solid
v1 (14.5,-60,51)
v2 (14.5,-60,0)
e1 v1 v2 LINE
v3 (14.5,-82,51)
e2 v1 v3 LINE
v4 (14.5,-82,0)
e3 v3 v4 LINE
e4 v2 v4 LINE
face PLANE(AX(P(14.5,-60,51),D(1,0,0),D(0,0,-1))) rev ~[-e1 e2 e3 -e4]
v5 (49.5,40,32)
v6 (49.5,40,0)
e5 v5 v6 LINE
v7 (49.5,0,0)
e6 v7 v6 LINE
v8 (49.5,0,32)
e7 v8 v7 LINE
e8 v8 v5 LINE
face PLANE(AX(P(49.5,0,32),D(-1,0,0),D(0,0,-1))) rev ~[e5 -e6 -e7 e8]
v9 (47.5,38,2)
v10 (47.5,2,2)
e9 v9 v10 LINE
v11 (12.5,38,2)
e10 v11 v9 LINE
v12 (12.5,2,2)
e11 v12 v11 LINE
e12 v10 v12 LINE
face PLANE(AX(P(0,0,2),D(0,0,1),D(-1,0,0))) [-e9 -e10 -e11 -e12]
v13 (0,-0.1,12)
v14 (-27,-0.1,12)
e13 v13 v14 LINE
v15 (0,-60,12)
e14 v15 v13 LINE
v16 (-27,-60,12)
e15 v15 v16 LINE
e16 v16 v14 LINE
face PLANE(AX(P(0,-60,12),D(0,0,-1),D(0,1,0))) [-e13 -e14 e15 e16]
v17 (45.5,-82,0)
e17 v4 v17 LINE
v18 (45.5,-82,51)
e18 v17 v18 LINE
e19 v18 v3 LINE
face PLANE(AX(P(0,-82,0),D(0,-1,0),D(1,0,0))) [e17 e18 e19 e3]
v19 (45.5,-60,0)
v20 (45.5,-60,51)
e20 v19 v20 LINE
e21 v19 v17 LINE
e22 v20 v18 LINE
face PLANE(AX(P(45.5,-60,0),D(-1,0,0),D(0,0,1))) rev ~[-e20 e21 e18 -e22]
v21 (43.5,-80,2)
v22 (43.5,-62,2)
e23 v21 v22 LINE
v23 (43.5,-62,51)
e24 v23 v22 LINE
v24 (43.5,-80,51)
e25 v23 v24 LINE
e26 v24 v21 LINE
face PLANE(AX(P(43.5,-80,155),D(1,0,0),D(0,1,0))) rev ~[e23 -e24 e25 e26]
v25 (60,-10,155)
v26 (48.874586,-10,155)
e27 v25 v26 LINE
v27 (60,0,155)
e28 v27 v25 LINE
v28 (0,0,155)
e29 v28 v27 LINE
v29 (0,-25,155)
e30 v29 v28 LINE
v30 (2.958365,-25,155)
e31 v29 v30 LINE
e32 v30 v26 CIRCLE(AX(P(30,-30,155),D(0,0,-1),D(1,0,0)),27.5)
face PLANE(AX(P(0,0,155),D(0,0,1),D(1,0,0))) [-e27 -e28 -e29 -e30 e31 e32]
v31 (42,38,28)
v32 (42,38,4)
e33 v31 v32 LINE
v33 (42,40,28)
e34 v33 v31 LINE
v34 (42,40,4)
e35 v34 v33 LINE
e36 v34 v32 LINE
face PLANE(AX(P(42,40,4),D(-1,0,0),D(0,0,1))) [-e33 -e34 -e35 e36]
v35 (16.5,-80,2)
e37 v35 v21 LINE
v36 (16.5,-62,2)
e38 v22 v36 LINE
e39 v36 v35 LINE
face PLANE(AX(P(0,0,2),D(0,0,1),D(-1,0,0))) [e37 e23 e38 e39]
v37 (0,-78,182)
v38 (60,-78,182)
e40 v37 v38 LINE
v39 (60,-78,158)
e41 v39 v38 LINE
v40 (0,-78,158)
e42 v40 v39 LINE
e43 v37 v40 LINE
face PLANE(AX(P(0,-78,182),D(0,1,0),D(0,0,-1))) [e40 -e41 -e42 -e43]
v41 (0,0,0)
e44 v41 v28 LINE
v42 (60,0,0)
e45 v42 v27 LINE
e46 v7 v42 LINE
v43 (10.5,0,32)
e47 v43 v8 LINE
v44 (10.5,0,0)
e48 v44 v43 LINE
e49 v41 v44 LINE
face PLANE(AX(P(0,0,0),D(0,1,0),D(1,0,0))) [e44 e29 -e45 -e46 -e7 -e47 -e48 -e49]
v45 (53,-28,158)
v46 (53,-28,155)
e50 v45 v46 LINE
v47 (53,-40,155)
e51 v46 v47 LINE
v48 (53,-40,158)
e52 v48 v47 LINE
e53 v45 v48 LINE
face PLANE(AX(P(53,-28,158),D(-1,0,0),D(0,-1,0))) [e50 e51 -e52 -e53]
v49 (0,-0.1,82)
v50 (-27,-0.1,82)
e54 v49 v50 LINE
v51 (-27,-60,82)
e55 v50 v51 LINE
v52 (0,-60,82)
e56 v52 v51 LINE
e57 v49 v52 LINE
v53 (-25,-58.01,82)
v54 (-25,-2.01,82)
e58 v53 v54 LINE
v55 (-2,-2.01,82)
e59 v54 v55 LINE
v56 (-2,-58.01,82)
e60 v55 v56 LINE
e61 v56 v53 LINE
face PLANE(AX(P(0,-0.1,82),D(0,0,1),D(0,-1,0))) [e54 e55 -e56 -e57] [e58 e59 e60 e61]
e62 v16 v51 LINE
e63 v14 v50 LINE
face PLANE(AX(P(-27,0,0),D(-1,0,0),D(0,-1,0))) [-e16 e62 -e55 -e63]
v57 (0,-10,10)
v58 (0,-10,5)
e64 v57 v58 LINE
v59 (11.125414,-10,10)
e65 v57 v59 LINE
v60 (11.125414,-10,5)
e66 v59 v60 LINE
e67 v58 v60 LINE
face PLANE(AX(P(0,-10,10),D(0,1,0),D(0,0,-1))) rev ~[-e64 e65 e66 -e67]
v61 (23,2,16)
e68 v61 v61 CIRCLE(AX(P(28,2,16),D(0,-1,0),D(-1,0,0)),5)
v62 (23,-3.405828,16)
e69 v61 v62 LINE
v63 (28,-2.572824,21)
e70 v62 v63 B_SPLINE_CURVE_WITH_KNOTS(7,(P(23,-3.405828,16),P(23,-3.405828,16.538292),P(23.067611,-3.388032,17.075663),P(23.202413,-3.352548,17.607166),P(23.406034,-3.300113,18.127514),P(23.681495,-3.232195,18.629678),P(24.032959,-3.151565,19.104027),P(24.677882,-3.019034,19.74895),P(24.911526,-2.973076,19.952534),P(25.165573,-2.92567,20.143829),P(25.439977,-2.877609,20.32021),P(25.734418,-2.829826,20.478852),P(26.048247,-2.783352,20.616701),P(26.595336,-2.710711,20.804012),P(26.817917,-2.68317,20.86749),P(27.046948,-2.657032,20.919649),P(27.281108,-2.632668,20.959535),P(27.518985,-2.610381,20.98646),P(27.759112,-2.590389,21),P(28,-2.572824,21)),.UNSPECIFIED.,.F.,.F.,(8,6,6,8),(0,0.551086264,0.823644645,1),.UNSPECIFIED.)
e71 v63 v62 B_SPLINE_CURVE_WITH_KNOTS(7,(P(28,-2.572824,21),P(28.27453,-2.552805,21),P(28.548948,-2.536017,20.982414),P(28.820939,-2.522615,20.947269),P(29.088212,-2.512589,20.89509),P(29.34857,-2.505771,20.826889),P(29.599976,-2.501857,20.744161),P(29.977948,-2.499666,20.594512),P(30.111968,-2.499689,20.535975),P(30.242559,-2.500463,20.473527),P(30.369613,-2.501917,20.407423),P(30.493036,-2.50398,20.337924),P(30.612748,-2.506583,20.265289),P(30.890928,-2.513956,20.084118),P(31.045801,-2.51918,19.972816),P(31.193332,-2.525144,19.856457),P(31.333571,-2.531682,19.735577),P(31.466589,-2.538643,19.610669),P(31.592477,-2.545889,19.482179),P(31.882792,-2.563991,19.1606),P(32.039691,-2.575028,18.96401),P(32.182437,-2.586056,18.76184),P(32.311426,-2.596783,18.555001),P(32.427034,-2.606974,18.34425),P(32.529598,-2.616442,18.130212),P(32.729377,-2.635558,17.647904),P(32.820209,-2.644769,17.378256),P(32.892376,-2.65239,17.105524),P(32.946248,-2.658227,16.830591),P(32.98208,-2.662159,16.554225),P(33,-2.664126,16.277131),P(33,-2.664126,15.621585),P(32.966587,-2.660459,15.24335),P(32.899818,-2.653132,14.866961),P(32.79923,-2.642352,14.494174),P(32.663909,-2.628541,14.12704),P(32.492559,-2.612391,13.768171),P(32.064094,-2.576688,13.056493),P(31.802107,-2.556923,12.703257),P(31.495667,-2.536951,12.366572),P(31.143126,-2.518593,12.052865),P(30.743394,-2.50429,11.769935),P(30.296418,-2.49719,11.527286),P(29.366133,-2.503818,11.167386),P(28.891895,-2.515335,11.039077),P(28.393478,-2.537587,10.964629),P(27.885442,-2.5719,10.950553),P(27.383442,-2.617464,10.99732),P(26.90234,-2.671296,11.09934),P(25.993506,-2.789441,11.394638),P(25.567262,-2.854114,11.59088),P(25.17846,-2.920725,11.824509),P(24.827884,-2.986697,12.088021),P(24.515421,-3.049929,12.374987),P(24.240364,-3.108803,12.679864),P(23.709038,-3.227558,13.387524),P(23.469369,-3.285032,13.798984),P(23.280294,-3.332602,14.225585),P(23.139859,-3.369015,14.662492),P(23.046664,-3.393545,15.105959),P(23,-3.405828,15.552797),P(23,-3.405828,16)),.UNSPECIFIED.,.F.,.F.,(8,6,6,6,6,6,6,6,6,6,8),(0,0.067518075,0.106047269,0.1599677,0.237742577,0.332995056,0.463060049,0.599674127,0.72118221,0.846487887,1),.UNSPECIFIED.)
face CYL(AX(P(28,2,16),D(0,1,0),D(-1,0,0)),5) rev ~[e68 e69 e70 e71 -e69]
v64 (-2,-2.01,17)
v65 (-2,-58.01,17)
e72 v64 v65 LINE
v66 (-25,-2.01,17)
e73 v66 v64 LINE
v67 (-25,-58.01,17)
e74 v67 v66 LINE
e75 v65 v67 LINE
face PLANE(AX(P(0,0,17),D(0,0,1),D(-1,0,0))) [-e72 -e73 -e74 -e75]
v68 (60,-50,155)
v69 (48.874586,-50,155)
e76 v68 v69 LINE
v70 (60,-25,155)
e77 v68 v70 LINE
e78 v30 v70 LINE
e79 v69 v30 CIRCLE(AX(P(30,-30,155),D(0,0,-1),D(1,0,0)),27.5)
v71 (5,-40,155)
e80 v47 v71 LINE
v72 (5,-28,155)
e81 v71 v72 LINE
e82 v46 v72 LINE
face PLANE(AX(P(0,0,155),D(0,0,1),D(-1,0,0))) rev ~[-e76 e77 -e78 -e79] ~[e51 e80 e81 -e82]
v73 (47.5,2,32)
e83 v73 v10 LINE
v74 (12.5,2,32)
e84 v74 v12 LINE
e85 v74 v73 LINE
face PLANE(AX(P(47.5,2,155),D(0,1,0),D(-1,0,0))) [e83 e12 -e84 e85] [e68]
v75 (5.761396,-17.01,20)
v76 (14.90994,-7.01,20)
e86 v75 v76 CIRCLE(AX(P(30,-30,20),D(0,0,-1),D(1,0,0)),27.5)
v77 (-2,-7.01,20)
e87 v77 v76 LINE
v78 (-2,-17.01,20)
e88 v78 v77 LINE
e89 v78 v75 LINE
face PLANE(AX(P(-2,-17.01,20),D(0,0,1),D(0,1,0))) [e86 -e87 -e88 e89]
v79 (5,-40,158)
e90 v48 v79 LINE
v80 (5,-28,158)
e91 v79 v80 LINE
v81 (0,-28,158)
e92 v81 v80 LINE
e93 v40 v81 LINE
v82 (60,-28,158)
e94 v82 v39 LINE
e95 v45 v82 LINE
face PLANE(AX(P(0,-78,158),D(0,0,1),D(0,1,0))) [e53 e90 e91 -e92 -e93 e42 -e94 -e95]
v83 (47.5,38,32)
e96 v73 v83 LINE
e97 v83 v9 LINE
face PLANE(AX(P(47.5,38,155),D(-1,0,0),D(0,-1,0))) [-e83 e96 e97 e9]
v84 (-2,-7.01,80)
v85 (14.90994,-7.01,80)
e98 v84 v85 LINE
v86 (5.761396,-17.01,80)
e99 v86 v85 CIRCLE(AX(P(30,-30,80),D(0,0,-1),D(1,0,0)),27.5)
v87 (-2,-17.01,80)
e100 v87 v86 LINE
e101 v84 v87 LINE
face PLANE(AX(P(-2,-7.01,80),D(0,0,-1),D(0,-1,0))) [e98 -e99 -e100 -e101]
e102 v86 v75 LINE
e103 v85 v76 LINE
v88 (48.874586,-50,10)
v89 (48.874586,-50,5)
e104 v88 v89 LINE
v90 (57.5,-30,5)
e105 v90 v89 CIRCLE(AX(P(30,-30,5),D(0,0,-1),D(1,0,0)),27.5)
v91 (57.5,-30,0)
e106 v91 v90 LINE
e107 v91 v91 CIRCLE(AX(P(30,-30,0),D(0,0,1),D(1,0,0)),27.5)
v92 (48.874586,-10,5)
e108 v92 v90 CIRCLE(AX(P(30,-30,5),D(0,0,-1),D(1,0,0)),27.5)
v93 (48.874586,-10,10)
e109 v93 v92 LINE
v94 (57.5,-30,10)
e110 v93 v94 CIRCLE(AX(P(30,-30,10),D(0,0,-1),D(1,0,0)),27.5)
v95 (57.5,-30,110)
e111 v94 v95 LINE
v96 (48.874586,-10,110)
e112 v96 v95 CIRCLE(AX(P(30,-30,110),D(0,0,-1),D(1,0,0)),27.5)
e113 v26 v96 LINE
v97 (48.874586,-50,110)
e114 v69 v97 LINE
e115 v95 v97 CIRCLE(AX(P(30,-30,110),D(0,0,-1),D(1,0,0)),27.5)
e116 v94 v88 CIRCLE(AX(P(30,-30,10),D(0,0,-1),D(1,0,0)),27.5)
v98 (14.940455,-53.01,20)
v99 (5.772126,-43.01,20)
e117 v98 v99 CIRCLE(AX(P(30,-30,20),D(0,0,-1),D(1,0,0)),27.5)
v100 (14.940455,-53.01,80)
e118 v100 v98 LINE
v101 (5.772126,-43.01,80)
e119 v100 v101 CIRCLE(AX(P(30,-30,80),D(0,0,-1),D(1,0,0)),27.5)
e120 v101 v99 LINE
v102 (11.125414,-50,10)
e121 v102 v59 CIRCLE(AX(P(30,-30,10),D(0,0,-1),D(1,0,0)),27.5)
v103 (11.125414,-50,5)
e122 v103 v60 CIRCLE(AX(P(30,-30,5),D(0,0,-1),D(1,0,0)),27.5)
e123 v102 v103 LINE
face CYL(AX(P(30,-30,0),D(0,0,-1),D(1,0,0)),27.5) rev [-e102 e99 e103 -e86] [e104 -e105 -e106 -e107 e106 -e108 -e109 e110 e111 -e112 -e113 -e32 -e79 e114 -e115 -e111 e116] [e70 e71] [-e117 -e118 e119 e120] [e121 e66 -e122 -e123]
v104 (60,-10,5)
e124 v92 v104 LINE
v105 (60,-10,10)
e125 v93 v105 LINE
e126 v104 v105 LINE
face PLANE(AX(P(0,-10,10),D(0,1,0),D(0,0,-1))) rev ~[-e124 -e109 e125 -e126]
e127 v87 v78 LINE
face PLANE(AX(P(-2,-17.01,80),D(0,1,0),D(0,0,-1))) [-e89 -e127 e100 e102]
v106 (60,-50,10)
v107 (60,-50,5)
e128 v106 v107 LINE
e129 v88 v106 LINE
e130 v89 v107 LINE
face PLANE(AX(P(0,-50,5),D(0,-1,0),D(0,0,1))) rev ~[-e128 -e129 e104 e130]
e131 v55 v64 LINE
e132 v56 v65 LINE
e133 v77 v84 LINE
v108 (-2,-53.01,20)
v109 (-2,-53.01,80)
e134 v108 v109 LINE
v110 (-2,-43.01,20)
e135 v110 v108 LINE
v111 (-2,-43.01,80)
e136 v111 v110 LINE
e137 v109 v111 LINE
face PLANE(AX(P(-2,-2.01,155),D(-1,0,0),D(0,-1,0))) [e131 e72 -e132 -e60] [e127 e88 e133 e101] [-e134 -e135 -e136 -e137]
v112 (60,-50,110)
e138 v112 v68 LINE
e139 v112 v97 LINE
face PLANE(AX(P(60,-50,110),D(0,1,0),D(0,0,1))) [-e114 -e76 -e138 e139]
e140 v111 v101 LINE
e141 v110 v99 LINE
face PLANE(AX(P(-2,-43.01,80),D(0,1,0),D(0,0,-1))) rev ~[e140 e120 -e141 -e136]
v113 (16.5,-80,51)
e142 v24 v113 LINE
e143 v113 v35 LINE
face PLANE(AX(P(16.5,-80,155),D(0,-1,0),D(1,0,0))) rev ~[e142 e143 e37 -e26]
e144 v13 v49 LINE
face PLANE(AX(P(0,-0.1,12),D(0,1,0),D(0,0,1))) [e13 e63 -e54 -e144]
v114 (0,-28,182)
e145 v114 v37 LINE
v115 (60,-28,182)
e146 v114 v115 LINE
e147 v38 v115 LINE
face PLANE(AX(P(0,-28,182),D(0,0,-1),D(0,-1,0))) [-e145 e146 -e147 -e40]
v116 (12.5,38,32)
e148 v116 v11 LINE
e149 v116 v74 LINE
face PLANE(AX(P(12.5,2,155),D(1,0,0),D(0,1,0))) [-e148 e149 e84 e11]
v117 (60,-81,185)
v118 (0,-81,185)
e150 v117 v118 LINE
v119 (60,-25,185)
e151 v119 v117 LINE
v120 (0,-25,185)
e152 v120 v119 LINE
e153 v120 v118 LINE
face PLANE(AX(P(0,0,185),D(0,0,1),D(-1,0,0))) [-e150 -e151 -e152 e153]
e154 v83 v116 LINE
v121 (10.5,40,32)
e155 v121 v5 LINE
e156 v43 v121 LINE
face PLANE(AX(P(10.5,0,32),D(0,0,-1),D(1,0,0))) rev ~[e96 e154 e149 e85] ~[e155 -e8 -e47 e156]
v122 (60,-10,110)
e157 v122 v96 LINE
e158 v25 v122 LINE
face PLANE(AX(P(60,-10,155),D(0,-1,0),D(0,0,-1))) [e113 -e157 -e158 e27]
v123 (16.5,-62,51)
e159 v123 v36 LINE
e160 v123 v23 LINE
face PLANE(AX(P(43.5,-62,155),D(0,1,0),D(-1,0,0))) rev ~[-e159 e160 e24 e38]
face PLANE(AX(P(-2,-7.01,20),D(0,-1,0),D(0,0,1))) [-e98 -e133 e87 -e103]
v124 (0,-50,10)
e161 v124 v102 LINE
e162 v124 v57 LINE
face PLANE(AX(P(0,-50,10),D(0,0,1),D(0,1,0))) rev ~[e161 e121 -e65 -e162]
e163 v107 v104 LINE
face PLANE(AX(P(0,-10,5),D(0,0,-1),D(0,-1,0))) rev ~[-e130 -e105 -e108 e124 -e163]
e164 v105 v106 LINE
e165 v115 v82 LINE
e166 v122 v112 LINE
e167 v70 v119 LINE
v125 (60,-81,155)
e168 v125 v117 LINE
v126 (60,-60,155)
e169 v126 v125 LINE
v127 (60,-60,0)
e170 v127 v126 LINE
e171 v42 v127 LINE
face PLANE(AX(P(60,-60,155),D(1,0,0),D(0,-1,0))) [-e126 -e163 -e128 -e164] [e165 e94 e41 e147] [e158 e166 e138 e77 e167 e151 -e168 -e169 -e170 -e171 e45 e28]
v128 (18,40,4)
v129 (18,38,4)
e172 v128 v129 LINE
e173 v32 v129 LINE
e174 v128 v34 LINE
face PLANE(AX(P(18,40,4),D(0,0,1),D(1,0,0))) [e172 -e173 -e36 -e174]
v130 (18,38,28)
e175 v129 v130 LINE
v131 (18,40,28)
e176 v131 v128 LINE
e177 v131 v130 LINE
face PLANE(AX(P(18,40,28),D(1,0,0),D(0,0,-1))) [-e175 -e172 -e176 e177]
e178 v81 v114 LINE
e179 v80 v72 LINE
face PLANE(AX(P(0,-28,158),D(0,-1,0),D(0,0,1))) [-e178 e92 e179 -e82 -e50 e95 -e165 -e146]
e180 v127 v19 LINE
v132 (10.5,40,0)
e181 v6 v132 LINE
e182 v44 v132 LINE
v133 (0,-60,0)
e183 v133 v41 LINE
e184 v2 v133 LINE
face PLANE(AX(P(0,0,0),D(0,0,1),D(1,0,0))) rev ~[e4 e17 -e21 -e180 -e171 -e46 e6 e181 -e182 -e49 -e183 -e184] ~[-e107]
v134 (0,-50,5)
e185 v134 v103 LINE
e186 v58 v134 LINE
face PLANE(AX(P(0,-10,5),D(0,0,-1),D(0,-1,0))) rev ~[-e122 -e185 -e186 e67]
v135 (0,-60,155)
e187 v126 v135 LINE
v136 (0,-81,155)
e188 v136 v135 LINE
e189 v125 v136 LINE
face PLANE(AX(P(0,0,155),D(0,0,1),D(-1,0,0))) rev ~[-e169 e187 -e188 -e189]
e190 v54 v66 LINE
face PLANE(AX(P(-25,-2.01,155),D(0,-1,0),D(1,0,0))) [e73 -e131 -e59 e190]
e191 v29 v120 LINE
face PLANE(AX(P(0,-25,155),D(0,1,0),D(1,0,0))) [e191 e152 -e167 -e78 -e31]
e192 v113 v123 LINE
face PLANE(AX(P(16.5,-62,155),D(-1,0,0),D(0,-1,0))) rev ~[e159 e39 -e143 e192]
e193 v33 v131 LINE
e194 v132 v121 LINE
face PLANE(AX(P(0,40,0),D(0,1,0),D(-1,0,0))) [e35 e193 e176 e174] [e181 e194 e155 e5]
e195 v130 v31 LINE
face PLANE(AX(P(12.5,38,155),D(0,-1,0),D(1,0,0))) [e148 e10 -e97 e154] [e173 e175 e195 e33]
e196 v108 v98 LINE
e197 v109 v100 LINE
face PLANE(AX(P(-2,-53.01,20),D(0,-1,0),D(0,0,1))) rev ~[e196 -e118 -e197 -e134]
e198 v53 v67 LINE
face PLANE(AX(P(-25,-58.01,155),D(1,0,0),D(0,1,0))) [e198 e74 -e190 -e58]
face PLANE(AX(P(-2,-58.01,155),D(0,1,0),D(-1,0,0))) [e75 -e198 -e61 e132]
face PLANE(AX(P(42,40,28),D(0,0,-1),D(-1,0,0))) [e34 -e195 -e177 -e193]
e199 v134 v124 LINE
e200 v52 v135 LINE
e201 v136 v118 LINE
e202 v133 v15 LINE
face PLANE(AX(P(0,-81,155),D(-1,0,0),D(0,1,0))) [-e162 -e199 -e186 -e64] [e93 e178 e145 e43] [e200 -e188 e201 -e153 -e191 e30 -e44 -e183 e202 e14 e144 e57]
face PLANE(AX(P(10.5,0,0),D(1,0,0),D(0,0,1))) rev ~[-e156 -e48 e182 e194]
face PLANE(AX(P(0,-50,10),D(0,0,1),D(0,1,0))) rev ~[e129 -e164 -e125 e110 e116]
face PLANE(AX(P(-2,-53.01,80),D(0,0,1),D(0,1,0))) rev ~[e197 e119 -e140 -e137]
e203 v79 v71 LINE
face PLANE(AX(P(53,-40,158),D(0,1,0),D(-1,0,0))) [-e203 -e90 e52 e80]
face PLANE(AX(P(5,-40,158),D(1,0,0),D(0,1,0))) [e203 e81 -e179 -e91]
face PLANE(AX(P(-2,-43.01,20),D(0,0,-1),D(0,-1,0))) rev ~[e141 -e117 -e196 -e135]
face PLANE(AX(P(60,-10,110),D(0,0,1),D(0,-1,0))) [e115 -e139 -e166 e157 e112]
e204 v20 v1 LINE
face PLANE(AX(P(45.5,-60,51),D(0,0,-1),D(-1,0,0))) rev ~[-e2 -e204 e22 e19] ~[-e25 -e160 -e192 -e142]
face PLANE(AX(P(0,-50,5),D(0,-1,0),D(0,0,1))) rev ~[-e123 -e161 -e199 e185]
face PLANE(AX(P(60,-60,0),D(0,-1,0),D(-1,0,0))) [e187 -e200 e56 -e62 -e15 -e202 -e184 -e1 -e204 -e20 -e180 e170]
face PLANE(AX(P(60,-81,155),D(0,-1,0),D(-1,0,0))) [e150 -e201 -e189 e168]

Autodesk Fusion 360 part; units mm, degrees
sketch "Sketch1" plane through (0, 0, 0) normal (0, 0, 1) x (1, 0, 0)
  line L0 (0, 0) -> (60, 0)
  line L1 (60, 0) -> (60, -60)
  line L2 (60, -60) -> (0, -60)
  line L3 (0, -60) -> (0, 0)
  dimension "d1" = 60
  dimension "d2" = 60
extrude "Extrude1" add sketch "Sketch1" along normal blind 155
sketch "Sketch2" plane through (0, 0, 0) normal (0, 0, 1) x (1, 0, 0)
  line L0 (0, 0) -> (30, 0)
  line L1 (30, 0) -> (30, -30)
  circle A0 centre (30, -30) radius 27.5
  dimension "d5" = 30
  dimension "d6" = 30
  dimension "d7" = 55
extrude "Extrude2" cut sketch "Sketch2" along normal through all
sketch "Sketch3" plane through (0, 0, 0) normal (1, 0, 0) x (0, 1, 0)
  line L0 (0, 0) -> (0, 5)
  line L1 (0, 5) -> (-10, 5)
  line L2 (-10, 5) -> (-50, 5)
  line L3 (-50, 5) -> (-50, 10)
  line L4 (-50, 10) -> (-10, 10)
  line L5 (-10, 10) -> (-10, 5)
  dimension "d9" = 10
  dimension "d10" = 5
  dimension "d11" = 40
  dimension "d12" = 5
extrude "Extrude3" cut sketch "Sketch3" along normal through all
sketch "Sketch4" plane through (0, 0, 0) normal (-1, 0, 0) x (0, -1, 0)
  line L0 (50, 10) -> (50, 5)
  line L1 (50, 5) -> (10, 5)
  line L2 (10, 5) -> (10, 10)
  line L3 (10, 10) -> (50, 10)
  line L4 (0, 0) -> (60, 0)
  line L5 (60, 0) -> (60, 155)
  line L6 (60, 155) -> (0, 155)
  line L7 (0, 155) -> (0, 0)
  line L8 (0.1, 82) -> (60, 82)
  line L9 (60, 82) -> (60, 12)
  line L10 (60, 12) -> (0.1, 12)
  line L11 (0.1, 12) -> (0.1, 82)
  line L12 (0.1, 82) -> (0, 155)
  line L13 (0.1, 82) -> (0, 82)
  dimension "d15" = 59.9
  dimension "d16" = 70
  dimension "d98" = 73
  dimension "d99" = 0.1
extrude "Extrude4" add sketch "Sketch4" along normal blind 27 contours L5 L8 L9 L10 L11
sketch "Sketch5" plane through (0, 0, 155) normal (0, 0, 1) x (-1, 0, 0)
  circle A0 centre (-30, 30) radius 27.5
  line L0 (0, 60) -> (-60, 60)
  line L1 (-60, 60) -> (-60, 0)
  line L2 (-60, 0) -> (0, 0)
  line L3 (0, 0) -> (0, 60)
  line L4 (27, 0.01) -> (25, 0.01)
  line L5 (25, 0.01) -> (25, 2.01)
  line L6 (25, 2.01) -> (2, 2.01)
  line L7 (2, 2.01) -> (2, 58.01)
  line L8 (2, 58.01) -> (25, 58.01)
  line L9 (25, 58.01) -> (25, 2.01)
  dimension "d19" = 2
  dimension "d20" = 2
  dimension "d21" = 23
  dimension "d22" = 56
extrude "Extrude5" cut sketch "Sketch5" against normal blind 138 contours L6 L7 L8 L9
sketch "Sketch6" plane through (0, -60, 0) normal (0, -1, 0) x (1, 0, 0)
  line L0 (0, 0) -> (60, 0)
  line L1 (60, 0) -> (60, 155)
  line L2 (60, 155) -> (0, 155)
  line L3 (0, 155) -> (0, 82)
  line L4 (0, 82) -> (-27, 82)
  line L5 (-27, 82) -> (-27, 12)
  line L6 (-27, 12) -> (0, 12)
  line L7 (0, 12) -> (0, 0)
sketch "Sketch7" plane through (60, 0, 0) normal (1, 0, 0) x (0, 1, 0)
  line L0 (-50, 5) -> (-50, 10)
  line L1 (-50, 10) -> (-10, 10)
  line L2 (-10, 10) -> (-10, 5)
  line L3 (-10, 5) -> (-50, 5)
  line L4 (-60, 0) -> (0, 0)
  line L5 (0, 0) -> (0, 155)
  line L6 (0, 155) -> (-60, 155)
  line L7 (-60, 155) -> (-60, 0)
sketch "Sketch8" plane through (0, -60, 0) normal (0, -1, 0) x (1, 0, 0)
sketch "Sketch9" plane through (0, -60, 0) normal (0, -1, 0) x (1, 0, 0)
sketch "Sketch10" plane through (0, 0, 0) normal (0, 1, 0) x (-1, 0, 0)
  line L0 (-60, 0) -> (0, 0)
  line L1 (0, 0) -> (0, 155)
  line L2 (0, 155) -> (-60, 155)
  line L3 (-60, 155) -> (-60, 0)
  line L4 (-10.5, 32) -> (-49.5, 32)
  line L5 (-49.5, 32) -> (-49.5, 0)
  line L6 (-49.5, 0) -> (-10.5, 0)
  line L7 (-10.5, 0) -> (-10.5, 32)
  line L8 (-10.5, 32) -> (-10.5, 155)
  line L9 (-10.5, 155) -> (0, 155)
  dimension "d26" = 39
  dimension "d27" = 32
  dimension "d100" = 10.5
  dimension "d101" = 123
extrude "Extrude6" add sketch "Sketch10" along normal blind 40 contours L0 L4 L5 L6 L7
sketch "Sketch11" plane through (0, 0, 155) normal (0, 0, 1) x (-1, 0, 0)
  line L0 (27, 60) -> (0, 60)
  line L1 (0, 60) -> (0, 0.1)
  line L2 (2, 2.01) -> (2, 58.01)
  line L3 (2, 58.01) -> (25, 58.01)
  line L4 (25, 58.01) -> (25, 2.01)
  line L5 (25, 2.01) -> (2, 2.01)
  line L6 (0, 0.1) -> (27, 0.1)
  line L7 (27, 0.1) -> (27, 60)
sketch "Sketch12" plane through (0, 0, 155) normal (0, 0, 1) x (-1, 0, 0)
sketch "Sketch13" plane through (0, 0, 155) normal (0, 0, 1) x (-1, 0, 0)
sketch "Sketch15" plane through (0, 0, 155) normal (0, 0, 1) x (-1, 0, 0)
  line L0 (-49.5, 0) -> (-47.5, 0)
  line L1 (-47.5, 0) -> (-47.5, -2)
  line L2 (-60, 0) -> (-49.5, 0)
  line L3 (-49.5, 0) -> (-49.5, -40)
  line L4 (-47.5, -2) -> (-12.5, -2)
  line L5 (-12.5, -2) -> (-12.5, -38)
  line L6 (-12.5, -38) -> (-47.5, -38)
  line L7 (-47.5, -38) -> (-47.5, -2)
  dimension "d34" = 2
  dimension "d35" = 2
  dimension "d36" = 35
  dimension "d37" = 36
extrude "Extrude7" cut sketch "Sketch15" against normal blind 153
sketch "Sketch16" plane through (0, 40, 0) normal (0, 1, 0) x (-1, 0, 0)
  line L0 (-10.5, 0) -> (-10.5, 32)
  line L1 (-10.5, 32) -> (-49.5, 32)
  line L2 (-49.5, 32) -> (-49.5, 0)
  line L3 (-49.5, 0) -> (-10.5, 0)
  line L4 (-49.5, 32) -> (-42, 32)
  line L5 (-42, 32) -> (-42, 28)
  line L6 (-42, 28) -> (-18, 28)
  line L7 (-18, 28) -> (-18, 4)
  line L8 (-18, 4) -> (-42, 4)
  line L9 (-42, 4) -> (-42, 28)
  dimension "d40" = 7.5
  dimension "d41" = 4
  dimension "d42" = 24
  dimension "d43" = 24
extrude "Extrude8" cut sketch "Sketch16" against normal blind 15 contours L6 L7 L8 L9
sketch "Sketch17" plane through (0, 2, 0) normal (0, 1, 0) x (-1, 0, 0)
  line L0 (-12.5, 32) -> (-47.5, 32)
  line L1 (-47.5, 32) -> (-47.5, 2)
  line L2 (-47.5, 2) -> (-12.5, 2)
  line L3 (-12.5, 2) -> (-12.5, 32)
  line L4 (-47.5, 32) -> (-28, 32)
  line L5 (-28, 32) -> (-28, 16)
  circle A0 centre (-28, 16) radius 5
  dimension "d46" = 19.5
  dimension "d47" = 16
  dimension "d48" = 10
extrude "Extrude9" cut sketch "Sketch17" against normal blind 12 contours A0
sketch "Sketch18" plane through (0, -60, 0) normal (0, -1, 0) x (1, 0, 0)
sketch "Sketch19" plane through (0, -60, 0) normal (0, -1, 0) x (1, 0, 0)
sketch "Sketch20" plane through (0, -60, 0) normal (0, -1, 0) x (1, 0, 0)
  line L0 (45.5, 51) -> (14.5, 51)
  line L1 (14.5, 51) -> (14.5, 0)
  line L2 (14.5, 0) -> (45.5, 0)
  line L3 (45.5, 0) -> (45.5, 51)
  line L4 (60, 0) -> (60, 155)
  line L5 (45.5, 51) -> (60, 51)
  line L6 (60, 51) -> (60, 155)
  dimension "d52" = 31
  dimension "d53" = 51
  dimension "d96" = 104
  dimension "d97" = 14.5
extrude "Extrude10" add sketch "Sketch20" along normal blind 22
sketch "Sketch21" plane through (0, 0, 155) normal (0, 0, 1) x (-1, 0, 0)
  line L0 (27, 60) -> (0, 60)
  line L1 (0, 60) -> (0, 0.1)
  line L2 (-14.5, 82) -> (-14.5, 80)
  line L3 (-14.5, 80) -> (-16.5, 80)
  line L4 (2, 2.01) -> (2, 58.01)
  line L5 (2, 58.01) -> (25, 58.01)
  line L6 (25, 58.01) -> (25, 2.01)
  line L7 (25, 2.01) -> (2, 2.01)
  line L8 (0, 0.1) -> (27, 0.1)
  line L9 (27, 0.1) -> (27, 60)
  line L10 (-12.5, -2) -> (-12.5, -38)
  line L11 (-12.5, -38) -> (-47.5, -38)
  line L12 (-47.5, -38) -> (-47.5, -2)
  line L13 (-47.5, -2) -> (-12.5, -2)
  line L14 (-10.5, 0) -> (-49.5, 0)
  line L15 (-49.5, 0) -> (-49.5, -40)
  line L16 (-49.5, -40) -> (-10.5, -40)
  line L17 (-10.5, -40) -> (-10.5, 0)
  dimension "d56" = 2
  dimension "d57" = 2
sketch "Sketch22" plane through (0, 0, 155) normal (0, 0, 1) x (-1, 0, 0)
  line L0 (-16.5, 80) -> (-43.5, 80)
  line L1 (-43.5, 80) -> (-43.5, 62)
  line L2 (-43.5, 62) -> (-16.5, 62)
  line L3 (-16.5, 62) -> (-16.5, 80)
  dimension "d58" = 27
  dimension "d59" = 18
extrude "Extrude11" cut sketch "Sketch22" against normal blind 153
sketch "Sketch24" plane through (0, 0, 155) normal (0, 0, 1) x (1, 0, 0)
sketch "Sketch26" plane through (-2, 0, 0) normal (-1, 0, 0) x (0, -1, 0)
  line L0 (58.01, 82) -> (2.01, 82)
  line L1 (2.01, 82) -> (2.01, 17)
  line L2 (2.01, 17) -> (58.01, 17)
  line L3 (58.01, 17) -> (58.01, 82)
  line L4 (2.01, 155) -> (2.01, 80)
  line L5 (2.01, 80) -> (7.01, 80)
  line L6 (7.01, 80) -> (17.01, 80)
  line L7 (17.01, 80) -> (17.01, 20)
  line L8 (17.01, 20) -> (7.01, 20)
  line L9 (7.01, 20) -> (7.01, 80)
  line L10 (30.01, 155) -> (30.01, 17)
  line L11 (2.01, 155) -> (58.01, 155)
  line L12 (43.01, 80) -> (43.01, 20)
  line L13 (53.01, 80) -> (43.01, 80)
  line L14 (53.01, 20) -> (53.01, 80)
  line L15 (43.01, 20) -> (53.01, 20)
  dimension "d66" = 75
  dimension "d67" = 5
  dimension "d68" = 10
  dimension "d69" = 60
extrude "Extrude14" cut sketch "Sketch26" against normal blind 25 contours L12 L13 L14 L15
extrude "Extrude13" cut sketch "Sketch26" against normal blind 25 contours L6 L7 L8 L9
sketch "Sketch27" plane through (60, 0, 0) normal (1, 0, 0) x (0, 1, 0)
  line L0 (-60, 155) -> (-50, 155)
  line L1 (-50, 155) -> (-10, 155)
  line L2 (-10, 155) -> (-10, 110)
  line L3 (-10, 110) -> (-50, 110)
  line L4 (-50, 110) -> (-50, 155)
  dimension "d74" = 10
  dimension "d75" = 40
  dimension "d76" = 45
extrude "Extrude15" cut sketch "Sketch27" against normal blind 20
sketch "Sketch28" plane through (0, 0, 155) normal (0, 0, 1) x (-1, 0, 0)
  line L0 (-60, 30) -> (0, 30) construction
  line L1 (-60, 60) -> (-60, 0)
  line L2 (0, 30) -> (0, 25)
  line L3 (0, 25) -> (-60, 25)
  line L4 (-60, 25) -> (-60, 81)
  line L5 (-60, 81) -> (0, 81)
  line L6 (0, 81) -> (0, 25)
  dimension "d79" = 5
  dimension "d80" = 60
  dimension "d81" = 56
extrude "Extrude16" add sketch "Sketch28" along normal blind 30
sketch "Sketch29" plane through (0, 0, 155) normal (0, 0, 1) x (-1, 0, 0)
sketch "Sketch30" plane through (0, 0, 0) normal (-1, 0, 0) x (0, -1, 0)
  line L0 (60, 82) -> (60, 155)
  line L1 (60, 12) -> (0.1, 12)
  line L2 (0.1, 12) -> (0.1, 82)
  line L3 (0.1, 82) -> (60, 82)
  line L4 (0, 155) -> (0, 0)
  line L5 (0, 0) -> (60, 0)
  line L6 (60, 155) -> (81, 155)
  line L7 (81, 155) -> (81, 185)
  line L8 (81, 185) -> (25, 185)
  line L9 (25, 185) -> (25, 155)
  line L10 (50, 10) -> (50, 5)
  line L11 (50, 5) -> (10, 5)
  line L12 (10, 5) -> (10, 10)
  line L13 (10, 10) -> (50, 10)
  line L14 (25, 185) -> (28, 185)
  line L15 (28, 185) -> (28, 182)
  line L16 (28, 182) -> (78, 182)
  line L17 (78, 182) -> (78, 158)
  line L18 (78, 158) -> (28, 158)
  line L19 (28, 158) -> (28, 182)
  line L20 (25, 155) -> (0, 155)
  line L21 (60, 0) -> (60, 12)
  dimension "d84" = 3
  dimension "d85" = 3
  dimension "d86" = 50
  dimension "d87" = 24
extrude "Extrude17" cut sketch "Sketch30" against normal through all contours L16 L17 L18 L19
sketch "Sketch31" plane through (60, 0, 0) normal (1, 0, 0) x (0, 1, 0)
sketch "Sketch32" plane through (0, 0, 185) normal (0, 0, 1) x (-1, 0, 0)
  line L0 (0, 81) -> (-60, 81)
  line L1 (-60, 81) -> (-60, 25)
  line L2 (-60, 25) -> (0, 25)
  line L3 (0, 25) -> (0, 81)
  line L4 (0, 25) -> (-60, 25)
  line L5 (-60, 25) -> (-60, 48)
  line L6 (-60, 48) -> (0, 48)
  line L7 (0, 48) -> (0, 25)
  dimension "d89" = 60
  dimension "d90" = 23
sketch "Sketch33" plane through (0, 0, 158) normal (0, 0, 1) x (-1, 0, 0)
  line L0 (-60, 78) -> (-60, 28)
  line L1 (-60, 28) -> (0, 28)
  line L2 (0, 28) -> (0, 78)
  line L3 (0, 78) -> (-60, 78)
  line L4 (0, 28) -> (-5, 28)
  line L5 (-5, 28) -> (-53, 28)
  line L6 (-53, 28) -> (-53, 40)
  line L7 (-53, 40) -> (-5, 40)
  line L8 (-5, 40) -> (-5, 28)
  dimension "d93" = 48
  dimension "d94" = 12
extrude "Extrude19" cut sketch "Sketch33" against normal through all contours L1 L5 L6 L7 L8
equation "d23 = -65.00 mm - 73 mm"
equation "d38 = -30.00 mm - 123 mm"
equation "d60 = -49.00 mm - 50 mm - 54 mm"
